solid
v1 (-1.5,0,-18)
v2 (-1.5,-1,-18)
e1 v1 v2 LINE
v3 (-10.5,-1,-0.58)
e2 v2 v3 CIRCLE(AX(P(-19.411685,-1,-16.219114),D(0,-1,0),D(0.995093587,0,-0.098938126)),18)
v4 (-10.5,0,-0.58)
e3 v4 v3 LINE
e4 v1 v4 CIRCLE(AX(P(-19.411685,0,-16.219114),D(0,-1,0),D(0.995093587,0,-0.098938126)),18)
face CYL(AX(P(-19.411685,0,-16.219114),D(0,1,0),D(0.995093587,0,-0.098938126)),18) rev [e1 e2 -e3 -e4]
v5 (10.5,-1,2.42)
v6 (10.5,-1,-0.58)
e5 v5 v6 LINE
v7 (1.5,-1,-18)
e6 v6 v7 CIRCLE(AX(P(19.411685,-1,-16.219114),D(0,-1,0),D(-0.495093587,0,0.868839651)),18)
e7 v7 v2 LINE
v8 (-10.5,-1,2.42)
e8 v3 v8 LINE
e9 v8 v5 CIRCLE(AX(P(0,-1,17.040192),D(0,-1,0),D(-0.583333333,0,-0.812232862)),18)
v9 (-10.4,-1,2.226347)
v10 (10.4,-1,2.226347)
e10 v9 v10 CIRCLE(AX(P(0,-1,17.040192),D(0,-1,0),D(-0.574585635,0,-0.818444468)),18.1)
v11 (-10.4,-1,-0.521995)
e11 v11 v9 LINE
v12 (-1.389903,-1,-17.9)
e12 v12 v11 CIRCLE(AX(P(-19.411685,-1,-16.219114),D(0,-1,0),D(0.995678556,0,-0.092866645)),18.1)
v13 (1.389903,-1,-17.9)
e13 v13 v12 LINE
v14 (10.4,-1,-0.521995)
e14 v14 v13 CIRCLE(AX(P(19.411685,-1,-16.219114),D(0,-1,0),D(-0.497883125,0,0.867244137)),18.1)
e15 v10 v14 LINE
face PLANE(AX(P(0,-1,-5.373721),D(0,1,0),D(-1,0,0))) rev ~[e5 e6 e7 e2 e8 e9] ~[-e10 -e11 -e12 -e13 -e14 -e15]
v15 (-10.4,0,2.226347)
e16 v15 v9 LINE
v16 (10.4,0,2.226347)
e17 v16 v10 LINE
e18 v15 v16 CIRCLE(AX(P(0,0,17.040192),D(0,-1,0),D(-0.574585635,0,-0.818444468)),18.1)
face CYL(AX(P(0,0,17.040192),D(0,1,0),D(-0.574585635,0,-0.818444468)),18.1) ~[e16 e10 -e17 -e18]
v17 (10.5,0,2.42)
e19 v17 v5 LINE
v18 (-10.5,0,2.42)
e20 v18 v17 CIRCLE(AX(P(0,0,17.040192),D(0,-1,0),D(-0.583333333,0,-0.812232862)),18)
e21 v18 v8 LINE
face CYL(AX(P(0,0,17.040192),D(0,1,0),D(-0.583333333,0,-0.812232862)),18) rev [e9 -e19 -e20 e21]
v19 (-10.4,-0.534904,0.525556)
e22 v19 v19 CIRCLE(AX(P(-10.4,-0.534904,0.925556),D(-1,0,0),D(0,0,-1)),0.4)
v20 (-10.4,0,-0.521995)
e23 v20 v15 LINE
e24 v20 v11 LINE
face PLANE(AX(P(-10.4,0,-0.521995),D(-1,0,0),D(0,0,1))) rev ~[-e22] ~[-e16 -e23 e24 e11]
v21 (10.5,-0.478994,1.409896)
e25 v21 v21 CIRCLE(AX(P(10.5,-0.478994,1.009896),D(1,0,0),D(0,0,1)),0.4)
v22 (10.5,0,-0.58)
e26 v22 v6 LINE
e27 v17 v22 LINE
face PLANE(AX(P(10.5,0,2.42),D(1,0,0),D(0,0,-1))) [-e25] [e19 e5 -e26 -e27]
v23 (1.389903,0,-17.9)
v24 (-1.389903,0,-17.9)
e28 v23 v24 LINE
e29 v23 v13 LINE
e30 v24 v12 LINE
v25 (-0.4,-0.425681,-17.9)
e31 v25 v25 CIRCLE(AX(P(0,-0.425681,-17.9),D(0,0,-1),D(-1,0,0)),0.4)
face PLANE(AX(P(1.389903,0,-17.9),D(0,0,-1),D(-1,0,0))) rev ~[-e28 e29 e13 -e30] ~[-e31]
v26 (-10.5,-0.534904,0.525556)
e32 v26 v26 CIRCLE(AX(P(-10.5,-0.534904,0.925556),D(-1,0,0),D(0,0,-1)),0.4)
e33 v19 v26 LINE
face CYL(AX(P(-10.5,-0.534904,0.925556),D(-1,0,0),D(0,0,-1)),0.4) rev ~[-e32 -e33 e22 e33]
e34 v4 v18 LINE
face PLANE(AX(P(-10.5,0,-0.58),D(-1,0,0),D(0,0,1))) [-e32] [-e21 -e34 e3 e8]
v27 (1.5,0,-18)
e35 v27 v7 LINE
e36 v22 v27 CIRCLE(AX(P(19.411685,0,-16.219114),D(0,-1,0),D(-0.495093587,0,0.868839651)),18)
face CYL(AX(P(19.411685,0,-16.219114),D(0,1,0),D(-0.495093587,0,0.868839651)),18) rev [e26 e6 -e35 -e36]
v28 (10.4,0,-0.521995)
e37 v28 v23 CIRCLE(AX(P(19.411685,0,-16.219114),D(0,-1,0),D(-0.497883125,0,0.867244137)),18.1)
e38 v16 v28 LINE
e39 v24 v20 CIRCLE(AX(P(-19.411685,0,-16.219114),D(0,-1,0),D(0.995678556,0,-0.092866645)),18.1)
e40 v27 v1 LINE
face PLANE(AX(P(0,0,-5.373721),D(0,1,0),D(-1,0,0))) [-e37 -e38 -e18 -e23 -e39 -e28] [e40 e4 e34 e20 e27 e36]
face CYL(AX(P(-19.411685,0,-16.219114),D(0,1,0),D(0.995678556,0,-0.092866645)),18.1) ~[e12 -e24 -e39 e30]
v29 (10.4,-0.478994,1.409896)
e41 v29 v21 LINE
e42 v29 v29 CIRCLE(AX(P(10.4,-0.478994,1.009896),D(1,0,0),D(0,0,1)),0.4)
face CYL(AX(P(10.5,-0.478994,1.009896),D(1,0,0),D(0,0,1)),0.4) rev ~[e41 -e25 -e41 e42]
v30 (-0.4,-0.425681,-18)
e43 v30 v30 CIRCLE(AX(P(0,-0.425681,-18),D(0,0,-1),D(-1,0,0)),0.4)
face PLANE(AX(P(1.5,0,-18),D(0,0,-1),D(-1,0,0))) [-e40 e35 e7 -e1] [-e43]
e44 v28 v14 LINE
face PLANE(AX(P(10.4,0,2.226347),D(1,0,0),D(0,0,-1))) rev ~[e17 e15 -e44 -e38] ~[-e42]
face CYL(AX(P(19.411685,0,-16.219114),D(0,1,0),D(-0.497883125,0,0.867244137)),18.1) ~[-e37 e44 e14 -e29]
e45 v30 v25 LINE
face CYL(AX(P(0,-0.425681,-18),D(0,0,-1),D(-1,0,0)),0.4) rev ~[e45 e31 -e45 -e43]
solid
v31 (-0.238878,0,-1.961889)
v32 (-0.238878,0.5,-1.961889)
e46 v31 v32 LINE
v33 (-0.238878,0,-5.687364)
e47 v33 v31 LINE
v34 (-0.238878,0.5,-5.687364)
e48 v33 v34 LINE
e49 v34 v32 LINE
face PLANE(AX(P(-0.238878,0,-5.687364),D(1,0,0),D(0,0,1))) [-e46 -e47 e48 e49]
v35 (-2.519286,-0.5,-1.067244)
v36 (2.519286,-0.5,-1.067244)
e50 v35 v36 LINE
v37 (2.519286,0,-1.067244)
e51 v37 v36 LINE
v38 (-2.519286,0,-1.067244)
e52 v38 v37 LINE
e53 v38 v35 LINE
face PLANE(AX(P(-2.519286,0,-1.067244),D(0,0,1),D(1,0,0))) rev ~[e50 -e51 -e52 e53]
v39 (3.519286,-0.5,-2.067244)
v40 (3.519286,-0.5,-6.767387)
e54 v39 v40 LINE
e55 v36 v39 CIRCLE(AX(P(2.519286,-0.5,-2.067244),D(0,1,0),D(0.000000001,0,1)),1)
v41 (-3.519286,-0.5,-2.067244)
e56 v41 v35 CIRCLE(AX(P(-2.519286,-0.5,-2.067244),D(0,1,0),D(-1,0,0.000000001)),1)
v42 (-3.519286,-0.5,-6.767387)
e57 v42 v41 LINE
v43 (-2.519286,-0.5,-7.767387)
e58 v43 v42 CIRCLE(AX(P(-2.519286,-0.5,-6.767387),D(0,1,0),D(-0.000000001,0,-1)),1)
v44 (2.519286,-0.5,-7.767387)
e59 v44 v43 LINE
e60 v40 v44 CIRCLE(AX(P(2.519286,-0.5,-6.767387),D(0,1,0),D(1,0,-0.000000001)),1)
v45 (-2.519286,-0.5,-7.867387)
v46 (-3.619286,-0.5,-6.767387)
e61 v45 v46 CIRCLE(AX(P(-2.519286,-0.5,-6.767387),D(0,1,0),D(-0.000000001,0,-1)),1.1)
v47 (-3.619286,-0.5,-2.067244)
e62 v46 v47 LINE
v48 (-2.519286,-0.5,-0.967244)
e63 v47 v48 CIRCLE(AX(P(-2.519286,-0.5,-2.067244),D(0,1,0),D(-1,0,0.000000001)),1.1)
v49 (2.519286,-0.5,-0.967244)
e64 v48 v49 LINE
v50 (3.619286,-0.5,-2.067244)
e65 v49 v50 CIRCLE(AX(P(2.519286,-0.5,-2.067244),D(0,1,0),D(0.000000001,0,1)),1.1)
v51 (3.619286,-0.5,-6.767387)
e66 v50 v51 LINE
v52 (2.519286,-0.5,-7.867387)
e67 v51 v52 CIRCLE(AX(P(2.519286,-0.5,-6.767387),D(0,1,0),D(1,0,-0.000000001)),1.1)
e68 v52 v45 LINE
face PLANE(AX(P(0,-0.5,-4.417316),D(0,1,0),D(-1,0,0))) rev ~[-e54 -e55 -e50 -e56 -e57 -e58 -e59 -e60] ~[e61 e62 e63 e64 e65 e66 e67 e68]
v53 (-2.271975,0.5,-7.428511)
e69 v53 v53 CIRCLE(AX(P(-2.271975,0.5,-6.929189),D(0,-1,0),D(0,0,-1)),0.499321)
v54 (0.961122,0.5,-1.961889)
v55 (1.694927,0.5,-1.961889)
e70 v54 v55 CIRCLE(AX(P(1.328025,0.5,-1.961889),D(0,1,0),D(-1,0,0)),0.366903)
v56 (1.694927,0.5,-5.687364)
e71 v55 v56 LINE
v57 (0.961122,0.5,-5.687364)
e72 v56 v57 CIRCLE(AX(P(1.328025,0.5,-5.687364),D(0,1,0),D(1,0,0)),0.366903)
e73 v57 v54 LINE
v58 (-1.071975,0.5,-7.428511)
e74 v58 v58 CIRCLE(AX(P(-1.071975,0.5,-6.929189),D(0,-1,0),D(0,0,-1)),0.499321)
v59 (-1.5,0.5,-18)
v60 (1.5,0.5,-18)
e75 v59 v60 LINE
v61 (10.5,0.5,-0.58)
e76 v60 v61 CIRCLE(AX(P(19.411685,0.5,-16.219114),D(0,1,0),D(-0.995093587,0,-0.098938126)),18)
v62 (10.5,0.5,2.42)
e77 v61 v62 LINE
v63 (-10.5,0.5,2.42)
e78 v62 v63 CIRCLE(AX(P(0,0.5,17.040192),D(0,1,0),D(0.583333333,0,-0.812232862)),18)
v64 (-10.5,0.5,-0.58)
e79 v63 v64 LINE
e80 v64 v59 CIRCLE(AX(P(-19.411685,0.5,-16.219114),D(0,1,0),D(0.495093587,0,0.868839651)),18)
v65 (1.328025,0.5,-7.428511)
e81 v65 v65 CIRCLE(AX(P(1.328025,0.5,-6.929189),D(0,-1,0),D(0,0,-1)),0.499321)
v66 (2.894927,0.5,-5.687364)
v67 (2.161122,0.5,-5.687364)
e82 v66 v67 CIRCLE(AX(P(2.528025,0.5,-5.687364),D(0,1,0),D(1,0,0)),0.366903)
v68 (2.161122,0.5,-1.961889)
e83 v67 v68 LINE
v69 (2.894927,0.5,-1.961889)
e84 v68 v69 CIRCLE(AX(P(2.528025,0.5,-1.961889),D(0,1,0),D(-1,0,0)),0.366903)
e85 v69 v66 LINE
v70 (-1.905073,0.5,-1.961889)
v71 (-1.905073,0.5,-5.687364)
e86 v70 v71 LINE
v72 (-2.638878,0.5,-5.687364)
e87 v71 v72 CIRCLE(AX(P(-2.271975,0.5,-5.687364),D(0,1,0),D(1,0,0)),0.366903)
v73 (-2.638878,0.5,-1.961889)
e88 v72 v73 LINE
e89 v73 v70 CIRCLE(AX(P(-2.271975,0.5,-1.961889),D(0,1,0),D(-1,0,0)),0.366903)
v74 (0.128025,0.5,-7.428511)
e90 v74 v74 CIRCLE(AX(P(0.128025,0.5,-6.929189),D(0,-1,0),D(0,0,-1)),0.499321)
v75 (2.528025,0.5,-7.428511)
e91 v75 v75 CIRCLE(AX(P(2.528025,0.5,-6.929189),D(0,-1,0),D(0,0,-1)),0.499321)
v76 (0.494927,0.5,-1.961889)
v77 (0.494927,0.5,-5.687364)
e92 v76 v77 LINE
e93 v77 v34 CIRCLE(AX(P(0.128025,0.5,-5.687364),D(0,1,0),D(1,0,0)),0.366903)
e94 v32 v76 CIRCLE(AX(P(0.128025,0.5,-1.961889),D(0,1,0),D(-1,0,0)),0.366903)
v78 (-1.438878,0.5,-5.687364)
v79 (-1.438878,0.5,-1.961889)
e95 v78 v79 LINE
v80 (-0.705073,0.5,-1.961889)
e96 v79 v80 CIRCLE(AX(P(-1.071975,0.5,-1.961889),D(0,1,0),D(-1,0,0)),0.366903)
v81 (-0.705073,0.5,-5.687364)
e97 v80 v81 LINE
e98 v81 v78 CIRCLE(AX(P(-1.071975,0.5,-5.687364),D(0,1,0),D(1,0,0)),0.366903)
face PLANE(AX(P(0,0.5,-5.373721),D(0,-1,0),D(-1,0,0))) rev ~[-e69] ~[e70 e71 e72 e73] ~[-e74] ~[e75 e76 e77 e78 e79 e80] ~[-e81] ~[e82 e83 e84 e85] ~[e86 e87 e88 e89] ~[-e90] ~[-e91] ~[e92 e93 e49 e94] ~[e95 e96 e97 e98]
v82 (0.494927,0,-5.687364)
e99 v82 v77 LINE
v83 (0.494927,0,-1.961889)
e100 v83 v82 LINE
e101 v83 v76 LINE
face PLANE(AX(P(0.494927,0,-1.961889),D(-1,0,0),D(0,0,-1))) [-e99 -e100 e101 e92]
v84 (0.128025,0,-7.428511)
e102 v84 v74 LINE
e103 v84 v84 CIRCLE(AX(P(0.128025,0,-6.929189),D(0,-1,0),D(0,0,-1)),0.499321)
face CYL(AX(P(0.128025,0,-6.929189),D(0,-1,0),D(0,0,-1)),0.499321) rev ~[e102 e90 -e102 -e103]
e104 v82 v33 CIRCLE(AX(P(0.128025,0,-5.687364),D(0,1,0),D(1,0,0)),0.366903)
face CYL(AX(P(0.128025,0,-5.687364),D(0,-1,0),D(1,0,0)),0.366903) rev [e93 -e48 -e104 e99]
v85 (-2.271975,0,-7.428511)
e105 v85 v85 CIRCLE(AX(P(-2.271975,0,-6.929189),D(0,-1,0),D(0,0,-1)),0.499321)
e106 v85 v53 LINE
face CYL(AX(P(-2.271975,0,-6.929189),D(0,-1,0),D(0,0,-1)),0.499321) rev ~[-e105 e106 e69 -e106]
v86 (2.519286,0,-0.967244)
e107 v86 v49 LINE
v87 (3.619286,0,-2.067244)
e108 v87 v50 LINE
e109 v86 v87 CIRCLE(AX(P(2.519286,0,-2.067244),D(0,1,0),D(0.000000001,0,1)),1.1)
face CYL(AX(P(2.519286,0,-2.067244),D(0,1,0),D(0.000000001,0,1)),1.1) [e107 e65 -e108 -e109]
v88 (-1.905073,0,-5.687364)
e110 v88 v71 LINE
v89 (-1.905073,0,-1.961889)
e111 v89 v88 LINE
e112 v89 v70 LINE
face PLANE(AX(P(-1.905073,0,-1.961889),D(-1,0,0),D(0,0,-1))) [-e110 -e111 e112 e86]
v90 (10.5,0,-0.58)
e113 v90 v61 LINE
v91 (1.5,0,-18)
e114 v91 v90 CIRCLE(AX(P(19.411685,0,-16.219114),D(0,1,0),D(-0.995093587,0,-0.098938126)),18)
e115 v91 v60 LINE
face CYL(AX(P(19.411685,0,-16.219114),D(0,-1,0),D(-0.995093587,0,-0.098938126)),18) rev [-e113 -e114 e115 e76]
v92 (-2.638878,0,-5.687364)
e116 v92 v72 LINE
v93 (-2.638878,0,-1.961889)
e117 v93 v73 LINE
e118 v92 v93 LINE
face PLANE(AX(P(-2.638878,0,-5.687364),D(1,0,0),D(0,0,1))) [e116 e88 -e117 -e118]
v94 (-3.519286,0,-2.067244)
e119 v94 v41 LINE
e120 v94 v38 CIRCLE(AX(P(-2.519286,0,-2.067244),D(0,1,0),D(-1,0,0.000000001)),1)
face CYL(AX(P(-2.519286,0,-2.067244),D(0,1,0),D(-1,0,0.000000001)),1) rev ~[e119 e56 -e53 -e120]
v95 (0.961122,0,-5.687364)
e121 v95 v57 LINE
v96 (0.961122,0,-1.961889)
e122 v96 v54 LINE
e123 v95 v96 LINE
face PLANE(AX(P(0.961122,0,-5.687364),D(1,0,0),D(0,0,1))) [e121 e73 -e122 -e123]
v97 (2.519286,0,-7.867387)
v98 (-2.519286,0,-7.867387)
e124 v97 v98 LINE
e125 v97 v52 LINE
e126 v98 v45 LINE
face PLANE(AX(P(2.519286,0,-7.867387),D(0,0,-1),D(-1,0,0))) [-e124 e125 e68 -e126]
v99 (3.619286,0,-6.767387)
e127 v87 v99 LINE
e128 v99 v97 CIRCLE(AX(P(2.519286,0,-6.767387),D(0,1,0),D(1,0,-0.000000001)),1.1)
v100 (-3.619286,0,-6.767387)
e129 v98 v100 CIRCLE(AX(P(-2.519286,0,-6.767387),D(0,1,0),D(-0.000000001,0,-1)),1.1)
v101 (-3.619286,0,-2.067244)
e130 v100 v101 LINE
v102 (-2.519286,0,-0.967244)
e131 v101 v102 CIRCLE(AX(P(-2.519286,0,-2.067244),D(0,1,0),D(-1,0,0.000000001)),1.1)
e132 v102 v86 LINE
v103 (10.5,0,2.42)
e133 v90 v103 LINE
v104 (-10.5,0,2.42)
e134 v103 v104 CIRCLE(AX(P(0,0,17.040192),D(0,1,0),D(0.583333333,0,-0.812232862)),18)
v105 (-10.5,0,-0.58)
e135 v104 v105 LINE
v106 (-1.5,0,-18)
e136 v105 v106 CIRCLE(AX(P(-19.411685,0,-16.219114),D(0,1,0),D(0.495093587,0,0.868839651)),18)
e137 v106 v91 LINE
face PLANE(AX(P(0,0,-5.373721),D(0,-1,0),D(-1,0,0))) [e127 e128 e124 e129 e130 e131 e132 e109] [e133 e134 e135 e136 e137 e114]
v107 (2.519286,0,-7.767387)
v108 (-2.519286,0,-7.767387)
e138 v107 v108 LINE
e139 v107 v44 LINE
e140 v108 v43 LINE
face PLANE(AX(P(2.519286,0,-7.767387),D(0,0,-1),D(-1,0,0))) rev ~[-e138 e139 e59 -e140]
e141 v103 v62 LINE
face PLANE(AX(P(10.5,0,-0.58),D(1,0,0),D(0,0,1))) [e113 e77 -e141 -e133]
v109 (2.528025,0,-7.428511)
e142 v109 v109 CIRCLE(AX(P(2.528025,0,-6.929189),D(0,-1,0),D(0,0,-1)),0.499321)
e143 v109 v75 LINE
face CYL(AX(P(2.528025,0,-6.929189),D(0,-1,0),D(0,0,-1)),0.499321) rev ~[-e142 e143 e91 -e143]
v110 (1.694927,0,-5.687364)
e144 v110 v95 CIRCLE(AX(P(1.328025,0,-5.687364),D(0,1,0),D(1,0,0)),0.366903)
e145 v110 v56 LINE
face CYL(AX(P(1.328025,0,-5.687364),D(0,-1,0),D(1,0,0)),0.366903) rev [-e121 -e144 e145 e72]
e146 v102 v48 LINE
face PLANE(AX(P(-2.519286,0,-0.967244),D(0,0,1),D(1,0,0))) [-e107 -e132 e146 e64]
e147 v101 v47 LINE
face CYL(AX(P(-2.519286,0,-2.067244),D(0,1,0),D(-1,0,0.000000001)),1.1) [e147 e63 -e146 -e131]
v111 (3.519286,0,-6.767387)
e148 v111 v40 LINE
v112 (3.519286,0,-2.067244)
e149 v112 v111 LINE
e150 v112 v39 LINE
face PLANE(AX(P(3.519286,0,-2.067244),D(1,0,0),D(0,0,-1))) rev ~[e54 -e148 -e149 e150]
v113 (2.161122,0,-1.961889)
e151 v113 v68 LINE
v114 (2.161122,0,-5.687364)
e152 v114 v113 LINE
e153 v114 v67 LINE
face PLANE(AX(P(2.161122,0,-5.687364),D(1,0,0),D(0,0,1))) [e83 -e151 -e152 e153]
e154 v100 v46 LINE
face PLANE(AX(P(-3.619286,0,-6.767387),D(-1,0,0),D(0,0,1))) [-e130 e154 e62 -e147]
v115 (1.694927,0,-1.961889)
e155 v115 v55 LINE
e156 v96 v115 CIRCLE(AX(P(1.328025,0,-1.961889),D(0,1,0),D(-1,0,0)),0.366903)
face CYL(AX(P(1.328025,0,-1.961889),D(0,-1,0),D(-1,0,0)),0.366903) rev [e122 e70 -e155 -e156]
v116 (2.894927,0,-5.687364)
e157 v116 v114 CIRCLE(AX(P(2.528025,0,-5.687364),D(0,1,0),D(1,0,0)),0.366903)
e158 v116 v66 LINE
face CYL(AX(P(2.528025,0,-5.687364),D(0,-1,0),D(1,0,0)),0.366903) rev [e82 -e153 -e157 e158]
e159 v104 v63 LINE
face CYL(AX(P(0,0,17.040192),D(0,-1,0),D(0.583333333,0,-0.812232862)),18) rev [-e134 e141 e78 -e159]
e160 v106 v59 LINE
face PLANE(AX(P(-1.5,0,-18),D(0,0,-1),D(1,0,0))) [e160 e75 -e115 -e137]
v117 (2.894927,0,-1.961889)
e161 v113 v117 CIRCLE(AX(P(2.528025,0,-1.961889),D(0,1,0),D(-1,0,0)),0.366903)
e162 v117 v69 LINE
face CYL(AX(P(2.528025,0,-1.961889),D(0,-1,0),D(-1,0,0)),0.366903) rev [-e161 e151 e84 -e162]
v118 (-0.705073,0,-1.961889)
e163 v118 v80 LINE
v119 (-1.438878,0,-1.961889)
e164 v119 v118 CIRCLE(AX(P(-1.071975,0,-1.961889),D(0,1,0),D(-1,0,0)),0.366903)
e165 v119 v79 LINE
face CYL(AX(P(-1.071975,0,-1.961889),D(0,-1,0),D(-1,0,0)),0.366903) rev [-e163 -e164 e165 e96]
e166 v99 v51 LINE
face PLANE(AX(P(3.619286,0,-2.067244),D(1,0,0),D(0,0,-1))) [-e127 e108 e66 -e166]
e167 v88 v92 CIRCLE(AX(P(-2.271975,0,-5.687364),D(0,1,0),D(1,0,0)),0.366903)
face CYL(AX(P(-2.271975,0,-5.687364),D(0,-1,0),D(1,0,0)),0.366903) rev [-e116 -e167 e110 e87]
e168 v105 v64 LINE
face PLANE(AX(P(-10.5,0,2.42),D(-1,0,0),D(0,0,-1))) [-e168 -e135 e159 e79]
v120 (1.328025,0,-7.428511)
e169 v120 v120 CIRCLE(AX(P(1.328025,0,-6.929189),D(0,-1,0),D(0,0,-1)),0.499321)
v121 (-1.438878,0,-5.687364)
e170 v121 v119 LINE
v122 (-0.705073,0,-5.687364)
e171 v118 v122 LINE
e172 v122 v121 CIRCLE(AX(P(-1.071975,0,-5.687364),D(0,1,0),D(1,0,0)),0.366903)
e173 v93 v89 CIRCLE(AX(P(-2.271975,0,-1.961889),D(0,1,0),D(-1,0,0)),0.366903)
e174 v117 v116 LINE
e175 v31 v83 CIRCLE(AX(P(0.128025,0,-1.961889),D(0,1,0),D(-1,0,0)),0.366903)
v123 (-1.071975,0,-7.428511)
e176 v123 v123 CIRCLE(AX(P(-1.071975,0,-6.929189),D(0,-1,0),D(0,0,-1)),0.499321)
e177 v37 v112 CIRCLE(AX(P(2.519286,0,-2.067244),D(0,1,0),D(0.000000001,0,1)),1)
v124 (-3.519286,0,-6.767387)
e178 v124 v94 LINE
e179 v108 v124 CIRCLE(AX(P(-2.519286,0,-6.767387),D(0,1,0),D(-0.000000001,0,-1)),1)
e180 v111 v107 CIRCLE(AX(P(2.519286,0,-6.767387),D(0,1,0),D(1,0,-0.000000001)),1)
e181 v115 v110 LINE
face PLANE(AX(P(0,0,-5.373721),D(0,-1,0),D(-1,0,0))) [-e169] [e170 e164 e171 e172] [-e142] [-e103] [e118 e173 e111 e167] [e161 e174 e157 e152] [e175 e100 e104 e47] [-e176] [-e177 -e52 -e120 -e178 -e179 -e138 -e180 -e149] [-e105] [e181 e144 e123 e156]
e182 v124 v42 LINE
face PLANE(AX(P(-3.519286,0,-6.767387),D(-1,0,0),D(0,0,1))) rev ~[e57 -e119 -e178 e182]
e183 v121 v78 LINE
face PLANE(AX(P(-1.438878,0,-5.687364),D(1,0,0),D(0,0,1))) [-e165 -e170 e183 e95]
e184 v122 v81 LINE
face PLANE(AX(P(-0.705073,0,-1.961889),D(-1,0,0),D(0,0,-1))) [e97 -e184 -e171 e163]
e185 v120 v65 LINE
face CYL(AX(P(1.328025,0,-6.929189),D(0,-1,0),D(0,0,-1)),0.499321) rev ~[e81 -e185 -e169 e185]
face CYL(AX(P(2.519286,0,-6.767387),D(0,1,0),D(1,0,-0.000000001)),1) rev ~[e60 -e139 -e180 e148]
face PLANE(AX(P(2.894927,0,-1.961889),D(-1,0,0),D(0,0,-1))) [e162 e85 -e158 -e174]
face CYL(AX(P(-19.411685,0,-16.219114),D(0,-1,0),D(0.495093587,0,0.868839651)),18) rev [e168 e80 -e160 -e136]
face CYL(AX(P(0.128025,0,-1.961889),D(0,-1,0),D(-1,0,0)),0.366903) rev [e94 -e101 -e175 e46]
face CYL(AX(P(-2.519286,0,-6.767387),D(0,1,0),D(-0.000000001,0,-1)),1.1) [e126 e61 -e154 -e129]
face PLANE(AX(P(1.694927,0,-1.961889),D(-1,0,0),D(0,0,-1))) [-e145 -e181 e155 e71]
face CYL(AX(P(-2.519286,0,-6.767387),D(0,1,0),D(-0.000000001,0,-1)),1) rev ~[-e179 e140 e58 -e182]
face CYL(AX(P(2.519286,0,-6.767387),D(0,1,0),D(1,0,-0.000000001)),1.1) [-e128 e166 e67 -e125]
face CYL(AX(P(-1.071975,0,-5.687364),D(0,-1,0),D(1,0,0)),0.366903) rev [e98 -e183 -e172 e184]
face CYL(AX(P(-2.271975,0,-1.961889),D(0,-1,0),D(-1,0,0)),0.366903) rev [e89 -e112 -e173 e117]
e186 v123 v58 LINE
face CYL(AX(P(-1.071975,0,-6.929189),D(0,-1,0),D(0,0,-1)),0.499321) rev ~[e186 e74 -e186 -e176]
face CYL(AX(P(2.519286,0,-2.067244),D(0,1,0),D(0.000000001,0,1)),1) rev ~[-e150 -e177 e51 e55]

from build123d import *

# Parameters (mm, degrees)
BOSS_EXTRUDE1_DEPTH = 0.5
EXTRUDE_THIN2_DEPTH = 0.5
SKETCH4_R           = 0.499321112
CUT_EXTRUDE1_DEPTH  = 0.5
EXTRUDE_THIN3_DEPTH = 1
SKETCH12_R          = 0.4
CUT_EXTRUDE2_DEPTH  = 0.5
SKETCH13_R          = 0.4
CUT_EXTRUDE3_DEPTH  = 0.5
SKETCH14_R          = 0.4
CUT_EXTRUDE4_DEPTH  = 1


with BuildPart() as part:
    # Sketch1 → Boss-Extrude1 (new body)
    with BuildSketch(Plane(origin=(0, 0, 0), x_dir=(1, 0, 0), z_dir=(0, 1, 0))):
        with BuildLine():
            Line((10.5, 0.58), (10.5, -2.42))
            ThreePointArc((10.5, -2.42), (0, 0.959808483), (-10.5, -2.42))
            Line((-10.5, -2.42), (-10.5, 0.58))
            ThreePointArc((-10.5, 0.58), (-3.419893457, 7.956994323), (-1.5, 18))
            Line((-1.5, 18), (1.5, 18))
            ThreePointArc((1.5, 18), (3.419893457, 7.956994323), (10.5, 0.58))
        make_face()
    extrude(amount=BOSS_EXTRUDE1_DEPTH)

    # Sketch2 → Extrude-Thin2 (add)
    with BuildSketch(Plane.XZ):
        with BuildLine():
            Line((3.619286336, -2.06724443), (3.619286336, -6.76738737))
            ThreePointArc((3.619286336, -6.76738737), (3.297103795, -7.545204829), (2.519286336, -7.86738737))
            Line((2.519286336, -7.86738737), (-2.519286336, -7.86738737))
            ThreePointArc((-2.519286336, -7.86738737), (-3.297103795, -7.545204829), (-3.619286336, -6.76738737))
            Line((-3.619286336, -6.76738737), (-3.619286336, -2.06724443))
            ThreePointArc((-3.619286336, -2.06724443), (-3.297103795, -1.289426971), (-2.519286336, -0.96724443))
            Line((-2.519286336, -0.96724443), (2.519286336, -0.96724443))
            ThreePointArc((2.519286336, -0.96724443), (3.297103795, -1.289426971), (3.619286336, -2.06724443))
        make_face()
        with BuildLine():
            Line((3.519286336, -2.06724443), (3.519286336, -6.76738737))
            ThreePointArc((3.519286336, -6.76738737), (3.226393117, -7.474494151), (2.519286336, -7.76738737))
            Line((2.519286336, -7.76738737), (-2.519286336, -7.76738737))
            ThreePointArc((-2.519286336, -7.76738737), (-3.226393117, -7.474494151), (-3.519286336, -6.76738737))
            Line((-3.519286336, -6.76738737), (-3.519286336, -2.06724443))
            ThreePointArc((-3.519286336, -2.06724443), (-3.226393117, -1.360137649), (-2.519286336, -1.06724443))
            Line((-2.519286336, -1.06724443), (2.519286336, -1.06724443))
            ThreePointArc((2.519286336, -1.06724443), (3.226393117, -1.360137649), (3.519286336, -2.06724443))
        make_face(mode=Mode.SUBTRACT)
    extrude(amount=EXTRUDE_THIN2_DEPTH)

    # Sketch4 → Cut-Extrude1 (cut)
    with BuildSketch(Plane.XZ):
        with Locations(Location((-2.271975482, -6.929189414, 0), (0, 0, 270))):
            Circle(SKETCH4_R)
        with Locations(Location((-1.071975482, -6.929189414, 0), (0, 0, 270))):
            Circle(SKETCH4_R)
        with Locations(Location((0.128024518, -6.929189414, 0), (0, 0, 270))):
            Circle(SKETCH4_R)
        with Locations(Location((1.328024518, -6.929189414, 0), (0, 0, 270))):
            Circle(SKETCH4_R)
        with Locations(Location((2.528024518, -6.929189414, 0), (0, 0, 270))):
            Circle(SKETCH4_R)
        with BuildLine():
            Line((-1.905072609, -1.961888982), (-1.905072609, -5.687364306))
            ThreePointArc((-1.905072609, -5.687364306), (-2.271975482, -6.054267179), (-2.638878355, -5.687364306))
            Line((-2.638878355, -5.687364306), (-2.638878355, -1.961888982))
            ThreePointArc((-2.638878355, -1.961888982), (-2.271975482, -1.594986109), (-1.905072609, -1.961888982))
        make_face()
        with BuildLine():
            Line((-0.705072609, -1.961888982), (-0.705072609, -5.687364306))
            ThreePointArc((-0.705072609, -5.687364306), (-1.071975482, -6.054267179), (-1.438878355, -5.687364306))
            Line((-1.438878355, -5.687364306), (-1.438878355, -1.961888982))
            ThreePointArc((-1.438878355, -1.961888982), (-1.071975482, -1.594986109), (-0.705072609, -1.961888982))
        make_face()
        with BuildLine():
            Line((0.494927391, -1.961888982), (0.494927391, -5.687364306))
            ThreePointArc((0.494927391, -5.687364306), (0.128024518, -6.054267179), (-0.238878355, -5.687364306))
            Line((-0.238878355, -5.687364306), (-0.238878355, -1.961888982))
            ThreePointArc((-0.238878355, -1.961888982), (0.128024518, -1.594986109), (0.494927391, -1.961888982))
        make_face()
        with BuildLine():
            Line((1.694927391, -1.961888982), (1.694927391, -5.687364306))
            ThreePointArc((1.694927391, -5.687364306), (1.328024518, -6.054267179), (0.961121645, -5.687364306))
            Line((0.961121645, -5.687364306), (0.961121645, -1.961888982))
            ThreePointArc((0.961121645, -1.961888982), (1.328024518, -1.594986109), (1.694927391, -1.961888982))
        make_face()
        with BuildLine():
            Line((2.894927391, -1.961888982), (2.894927391, -5.687364306))
            ThreePointArc((2.894927391, -5.687364306), (2.528024518, -6.054267179), (2.161121645, -5.687364306))
            Line((2.161121645, -5.687364306), (2.161121645, -1.961888982))
            ThreePointArc((2.161121645, -1.961888982), (2.528024518, -1.594986109), (2.894927391, -1.961888982))
        make_face()
    extrude(amount=-CUT_EXTRUDE1_DEPTH, mode=Mode.SUBTRACT)


with BuildPart() as body_2:
    # Sketch6 → Extrude-Thin3 (new body)
    with BuildSketch(Plane.XZ):
        with BuildLine():
            Line((-10.5, -0.58), (-10.5, 2.42))
            ThreePointArc((-10.5, 2.42), (0, -0.959808483), (10.5, 2.42))
            Line((10.5, 2.42), (10.5, -0.58))
            ThreePointArc((10.5, -0.58), (3.419893457, -7.956994323), (1.5, -18))
            Line((1.5, -18), (-1.5, -18))
            ThreePointArc((-1.5, -18), (-3.419893457, -7.956994323), (-10.5, -0.58))
        make_face()
        with BuildLine():
            Line((-10.4, -0.521994843), (-10.4, 2.226346642))
            ThreePointArc((-10.4, 2.226346642), (0, -1.059808483), (10.4, 2.226346642))
            Line((10.4, 2.226346642), (10.4, -0.521994843))
            ThreePointArc((10.4, -0.521994843), (3.343055425, -7.887897883), (1.389902711, -17.9))
            Line((1.389902711, -17.9), (-1.389902711, -17.9))
            ThreePointArc((-1.389902711, -17.9), (-3.343055425, -7.887897883), (-10.4, -0.521994843))
        make_face(mode=Mode.SUBTRACT)
    extrude(amount=EXTRUDE_THIN3_DEPTH)

    # Sketch12 → Cut-Extrude2 (cut, symmetric)
    with BuildSketch(Plane.ZY.offset(10.5)):
        with Locations(Location((0.925556485, -0.534903511, 0), (0, 0, 180))):
            Circle(SKETCH12_R)
    extrude(amount=CUT_EXTRUDE2_DEPTH, both=True, mode=Mode.SUBTRACT)

    # Sketch13 → Cut-Extrude3 (cut, symmetric)
    with BuildSketch(Plane(origin=(10.5, 0, 0), x_dir=(0, 0, -1), z_dir=(1, 0, 0))):
        with Locations(Location((-1.009896001, -0.478993576, 0), (0, 0, 180))):
            Circle(SKETCH13_R)
    extrude(amount=CUT_EXTRUDE3_DEPTH, both=True, mode=Mode.SUBTRACT)

    # Sketch14 → Cut-Extrude4 (cut)
    with BuildSketch(Plane(origin=(0, 0, -18), x_dir=(-1, 0, 0), z_dir=(0, 0, -1))):
        with Locations((0, -0.425681427)):
            Circle(SKETCH14_R)
    extrude(amount=-CUT_EXTRUDE4_DEPTH, mode=Mode.SUBTRACT)


solid = Compound([part.part, body_2.part])
